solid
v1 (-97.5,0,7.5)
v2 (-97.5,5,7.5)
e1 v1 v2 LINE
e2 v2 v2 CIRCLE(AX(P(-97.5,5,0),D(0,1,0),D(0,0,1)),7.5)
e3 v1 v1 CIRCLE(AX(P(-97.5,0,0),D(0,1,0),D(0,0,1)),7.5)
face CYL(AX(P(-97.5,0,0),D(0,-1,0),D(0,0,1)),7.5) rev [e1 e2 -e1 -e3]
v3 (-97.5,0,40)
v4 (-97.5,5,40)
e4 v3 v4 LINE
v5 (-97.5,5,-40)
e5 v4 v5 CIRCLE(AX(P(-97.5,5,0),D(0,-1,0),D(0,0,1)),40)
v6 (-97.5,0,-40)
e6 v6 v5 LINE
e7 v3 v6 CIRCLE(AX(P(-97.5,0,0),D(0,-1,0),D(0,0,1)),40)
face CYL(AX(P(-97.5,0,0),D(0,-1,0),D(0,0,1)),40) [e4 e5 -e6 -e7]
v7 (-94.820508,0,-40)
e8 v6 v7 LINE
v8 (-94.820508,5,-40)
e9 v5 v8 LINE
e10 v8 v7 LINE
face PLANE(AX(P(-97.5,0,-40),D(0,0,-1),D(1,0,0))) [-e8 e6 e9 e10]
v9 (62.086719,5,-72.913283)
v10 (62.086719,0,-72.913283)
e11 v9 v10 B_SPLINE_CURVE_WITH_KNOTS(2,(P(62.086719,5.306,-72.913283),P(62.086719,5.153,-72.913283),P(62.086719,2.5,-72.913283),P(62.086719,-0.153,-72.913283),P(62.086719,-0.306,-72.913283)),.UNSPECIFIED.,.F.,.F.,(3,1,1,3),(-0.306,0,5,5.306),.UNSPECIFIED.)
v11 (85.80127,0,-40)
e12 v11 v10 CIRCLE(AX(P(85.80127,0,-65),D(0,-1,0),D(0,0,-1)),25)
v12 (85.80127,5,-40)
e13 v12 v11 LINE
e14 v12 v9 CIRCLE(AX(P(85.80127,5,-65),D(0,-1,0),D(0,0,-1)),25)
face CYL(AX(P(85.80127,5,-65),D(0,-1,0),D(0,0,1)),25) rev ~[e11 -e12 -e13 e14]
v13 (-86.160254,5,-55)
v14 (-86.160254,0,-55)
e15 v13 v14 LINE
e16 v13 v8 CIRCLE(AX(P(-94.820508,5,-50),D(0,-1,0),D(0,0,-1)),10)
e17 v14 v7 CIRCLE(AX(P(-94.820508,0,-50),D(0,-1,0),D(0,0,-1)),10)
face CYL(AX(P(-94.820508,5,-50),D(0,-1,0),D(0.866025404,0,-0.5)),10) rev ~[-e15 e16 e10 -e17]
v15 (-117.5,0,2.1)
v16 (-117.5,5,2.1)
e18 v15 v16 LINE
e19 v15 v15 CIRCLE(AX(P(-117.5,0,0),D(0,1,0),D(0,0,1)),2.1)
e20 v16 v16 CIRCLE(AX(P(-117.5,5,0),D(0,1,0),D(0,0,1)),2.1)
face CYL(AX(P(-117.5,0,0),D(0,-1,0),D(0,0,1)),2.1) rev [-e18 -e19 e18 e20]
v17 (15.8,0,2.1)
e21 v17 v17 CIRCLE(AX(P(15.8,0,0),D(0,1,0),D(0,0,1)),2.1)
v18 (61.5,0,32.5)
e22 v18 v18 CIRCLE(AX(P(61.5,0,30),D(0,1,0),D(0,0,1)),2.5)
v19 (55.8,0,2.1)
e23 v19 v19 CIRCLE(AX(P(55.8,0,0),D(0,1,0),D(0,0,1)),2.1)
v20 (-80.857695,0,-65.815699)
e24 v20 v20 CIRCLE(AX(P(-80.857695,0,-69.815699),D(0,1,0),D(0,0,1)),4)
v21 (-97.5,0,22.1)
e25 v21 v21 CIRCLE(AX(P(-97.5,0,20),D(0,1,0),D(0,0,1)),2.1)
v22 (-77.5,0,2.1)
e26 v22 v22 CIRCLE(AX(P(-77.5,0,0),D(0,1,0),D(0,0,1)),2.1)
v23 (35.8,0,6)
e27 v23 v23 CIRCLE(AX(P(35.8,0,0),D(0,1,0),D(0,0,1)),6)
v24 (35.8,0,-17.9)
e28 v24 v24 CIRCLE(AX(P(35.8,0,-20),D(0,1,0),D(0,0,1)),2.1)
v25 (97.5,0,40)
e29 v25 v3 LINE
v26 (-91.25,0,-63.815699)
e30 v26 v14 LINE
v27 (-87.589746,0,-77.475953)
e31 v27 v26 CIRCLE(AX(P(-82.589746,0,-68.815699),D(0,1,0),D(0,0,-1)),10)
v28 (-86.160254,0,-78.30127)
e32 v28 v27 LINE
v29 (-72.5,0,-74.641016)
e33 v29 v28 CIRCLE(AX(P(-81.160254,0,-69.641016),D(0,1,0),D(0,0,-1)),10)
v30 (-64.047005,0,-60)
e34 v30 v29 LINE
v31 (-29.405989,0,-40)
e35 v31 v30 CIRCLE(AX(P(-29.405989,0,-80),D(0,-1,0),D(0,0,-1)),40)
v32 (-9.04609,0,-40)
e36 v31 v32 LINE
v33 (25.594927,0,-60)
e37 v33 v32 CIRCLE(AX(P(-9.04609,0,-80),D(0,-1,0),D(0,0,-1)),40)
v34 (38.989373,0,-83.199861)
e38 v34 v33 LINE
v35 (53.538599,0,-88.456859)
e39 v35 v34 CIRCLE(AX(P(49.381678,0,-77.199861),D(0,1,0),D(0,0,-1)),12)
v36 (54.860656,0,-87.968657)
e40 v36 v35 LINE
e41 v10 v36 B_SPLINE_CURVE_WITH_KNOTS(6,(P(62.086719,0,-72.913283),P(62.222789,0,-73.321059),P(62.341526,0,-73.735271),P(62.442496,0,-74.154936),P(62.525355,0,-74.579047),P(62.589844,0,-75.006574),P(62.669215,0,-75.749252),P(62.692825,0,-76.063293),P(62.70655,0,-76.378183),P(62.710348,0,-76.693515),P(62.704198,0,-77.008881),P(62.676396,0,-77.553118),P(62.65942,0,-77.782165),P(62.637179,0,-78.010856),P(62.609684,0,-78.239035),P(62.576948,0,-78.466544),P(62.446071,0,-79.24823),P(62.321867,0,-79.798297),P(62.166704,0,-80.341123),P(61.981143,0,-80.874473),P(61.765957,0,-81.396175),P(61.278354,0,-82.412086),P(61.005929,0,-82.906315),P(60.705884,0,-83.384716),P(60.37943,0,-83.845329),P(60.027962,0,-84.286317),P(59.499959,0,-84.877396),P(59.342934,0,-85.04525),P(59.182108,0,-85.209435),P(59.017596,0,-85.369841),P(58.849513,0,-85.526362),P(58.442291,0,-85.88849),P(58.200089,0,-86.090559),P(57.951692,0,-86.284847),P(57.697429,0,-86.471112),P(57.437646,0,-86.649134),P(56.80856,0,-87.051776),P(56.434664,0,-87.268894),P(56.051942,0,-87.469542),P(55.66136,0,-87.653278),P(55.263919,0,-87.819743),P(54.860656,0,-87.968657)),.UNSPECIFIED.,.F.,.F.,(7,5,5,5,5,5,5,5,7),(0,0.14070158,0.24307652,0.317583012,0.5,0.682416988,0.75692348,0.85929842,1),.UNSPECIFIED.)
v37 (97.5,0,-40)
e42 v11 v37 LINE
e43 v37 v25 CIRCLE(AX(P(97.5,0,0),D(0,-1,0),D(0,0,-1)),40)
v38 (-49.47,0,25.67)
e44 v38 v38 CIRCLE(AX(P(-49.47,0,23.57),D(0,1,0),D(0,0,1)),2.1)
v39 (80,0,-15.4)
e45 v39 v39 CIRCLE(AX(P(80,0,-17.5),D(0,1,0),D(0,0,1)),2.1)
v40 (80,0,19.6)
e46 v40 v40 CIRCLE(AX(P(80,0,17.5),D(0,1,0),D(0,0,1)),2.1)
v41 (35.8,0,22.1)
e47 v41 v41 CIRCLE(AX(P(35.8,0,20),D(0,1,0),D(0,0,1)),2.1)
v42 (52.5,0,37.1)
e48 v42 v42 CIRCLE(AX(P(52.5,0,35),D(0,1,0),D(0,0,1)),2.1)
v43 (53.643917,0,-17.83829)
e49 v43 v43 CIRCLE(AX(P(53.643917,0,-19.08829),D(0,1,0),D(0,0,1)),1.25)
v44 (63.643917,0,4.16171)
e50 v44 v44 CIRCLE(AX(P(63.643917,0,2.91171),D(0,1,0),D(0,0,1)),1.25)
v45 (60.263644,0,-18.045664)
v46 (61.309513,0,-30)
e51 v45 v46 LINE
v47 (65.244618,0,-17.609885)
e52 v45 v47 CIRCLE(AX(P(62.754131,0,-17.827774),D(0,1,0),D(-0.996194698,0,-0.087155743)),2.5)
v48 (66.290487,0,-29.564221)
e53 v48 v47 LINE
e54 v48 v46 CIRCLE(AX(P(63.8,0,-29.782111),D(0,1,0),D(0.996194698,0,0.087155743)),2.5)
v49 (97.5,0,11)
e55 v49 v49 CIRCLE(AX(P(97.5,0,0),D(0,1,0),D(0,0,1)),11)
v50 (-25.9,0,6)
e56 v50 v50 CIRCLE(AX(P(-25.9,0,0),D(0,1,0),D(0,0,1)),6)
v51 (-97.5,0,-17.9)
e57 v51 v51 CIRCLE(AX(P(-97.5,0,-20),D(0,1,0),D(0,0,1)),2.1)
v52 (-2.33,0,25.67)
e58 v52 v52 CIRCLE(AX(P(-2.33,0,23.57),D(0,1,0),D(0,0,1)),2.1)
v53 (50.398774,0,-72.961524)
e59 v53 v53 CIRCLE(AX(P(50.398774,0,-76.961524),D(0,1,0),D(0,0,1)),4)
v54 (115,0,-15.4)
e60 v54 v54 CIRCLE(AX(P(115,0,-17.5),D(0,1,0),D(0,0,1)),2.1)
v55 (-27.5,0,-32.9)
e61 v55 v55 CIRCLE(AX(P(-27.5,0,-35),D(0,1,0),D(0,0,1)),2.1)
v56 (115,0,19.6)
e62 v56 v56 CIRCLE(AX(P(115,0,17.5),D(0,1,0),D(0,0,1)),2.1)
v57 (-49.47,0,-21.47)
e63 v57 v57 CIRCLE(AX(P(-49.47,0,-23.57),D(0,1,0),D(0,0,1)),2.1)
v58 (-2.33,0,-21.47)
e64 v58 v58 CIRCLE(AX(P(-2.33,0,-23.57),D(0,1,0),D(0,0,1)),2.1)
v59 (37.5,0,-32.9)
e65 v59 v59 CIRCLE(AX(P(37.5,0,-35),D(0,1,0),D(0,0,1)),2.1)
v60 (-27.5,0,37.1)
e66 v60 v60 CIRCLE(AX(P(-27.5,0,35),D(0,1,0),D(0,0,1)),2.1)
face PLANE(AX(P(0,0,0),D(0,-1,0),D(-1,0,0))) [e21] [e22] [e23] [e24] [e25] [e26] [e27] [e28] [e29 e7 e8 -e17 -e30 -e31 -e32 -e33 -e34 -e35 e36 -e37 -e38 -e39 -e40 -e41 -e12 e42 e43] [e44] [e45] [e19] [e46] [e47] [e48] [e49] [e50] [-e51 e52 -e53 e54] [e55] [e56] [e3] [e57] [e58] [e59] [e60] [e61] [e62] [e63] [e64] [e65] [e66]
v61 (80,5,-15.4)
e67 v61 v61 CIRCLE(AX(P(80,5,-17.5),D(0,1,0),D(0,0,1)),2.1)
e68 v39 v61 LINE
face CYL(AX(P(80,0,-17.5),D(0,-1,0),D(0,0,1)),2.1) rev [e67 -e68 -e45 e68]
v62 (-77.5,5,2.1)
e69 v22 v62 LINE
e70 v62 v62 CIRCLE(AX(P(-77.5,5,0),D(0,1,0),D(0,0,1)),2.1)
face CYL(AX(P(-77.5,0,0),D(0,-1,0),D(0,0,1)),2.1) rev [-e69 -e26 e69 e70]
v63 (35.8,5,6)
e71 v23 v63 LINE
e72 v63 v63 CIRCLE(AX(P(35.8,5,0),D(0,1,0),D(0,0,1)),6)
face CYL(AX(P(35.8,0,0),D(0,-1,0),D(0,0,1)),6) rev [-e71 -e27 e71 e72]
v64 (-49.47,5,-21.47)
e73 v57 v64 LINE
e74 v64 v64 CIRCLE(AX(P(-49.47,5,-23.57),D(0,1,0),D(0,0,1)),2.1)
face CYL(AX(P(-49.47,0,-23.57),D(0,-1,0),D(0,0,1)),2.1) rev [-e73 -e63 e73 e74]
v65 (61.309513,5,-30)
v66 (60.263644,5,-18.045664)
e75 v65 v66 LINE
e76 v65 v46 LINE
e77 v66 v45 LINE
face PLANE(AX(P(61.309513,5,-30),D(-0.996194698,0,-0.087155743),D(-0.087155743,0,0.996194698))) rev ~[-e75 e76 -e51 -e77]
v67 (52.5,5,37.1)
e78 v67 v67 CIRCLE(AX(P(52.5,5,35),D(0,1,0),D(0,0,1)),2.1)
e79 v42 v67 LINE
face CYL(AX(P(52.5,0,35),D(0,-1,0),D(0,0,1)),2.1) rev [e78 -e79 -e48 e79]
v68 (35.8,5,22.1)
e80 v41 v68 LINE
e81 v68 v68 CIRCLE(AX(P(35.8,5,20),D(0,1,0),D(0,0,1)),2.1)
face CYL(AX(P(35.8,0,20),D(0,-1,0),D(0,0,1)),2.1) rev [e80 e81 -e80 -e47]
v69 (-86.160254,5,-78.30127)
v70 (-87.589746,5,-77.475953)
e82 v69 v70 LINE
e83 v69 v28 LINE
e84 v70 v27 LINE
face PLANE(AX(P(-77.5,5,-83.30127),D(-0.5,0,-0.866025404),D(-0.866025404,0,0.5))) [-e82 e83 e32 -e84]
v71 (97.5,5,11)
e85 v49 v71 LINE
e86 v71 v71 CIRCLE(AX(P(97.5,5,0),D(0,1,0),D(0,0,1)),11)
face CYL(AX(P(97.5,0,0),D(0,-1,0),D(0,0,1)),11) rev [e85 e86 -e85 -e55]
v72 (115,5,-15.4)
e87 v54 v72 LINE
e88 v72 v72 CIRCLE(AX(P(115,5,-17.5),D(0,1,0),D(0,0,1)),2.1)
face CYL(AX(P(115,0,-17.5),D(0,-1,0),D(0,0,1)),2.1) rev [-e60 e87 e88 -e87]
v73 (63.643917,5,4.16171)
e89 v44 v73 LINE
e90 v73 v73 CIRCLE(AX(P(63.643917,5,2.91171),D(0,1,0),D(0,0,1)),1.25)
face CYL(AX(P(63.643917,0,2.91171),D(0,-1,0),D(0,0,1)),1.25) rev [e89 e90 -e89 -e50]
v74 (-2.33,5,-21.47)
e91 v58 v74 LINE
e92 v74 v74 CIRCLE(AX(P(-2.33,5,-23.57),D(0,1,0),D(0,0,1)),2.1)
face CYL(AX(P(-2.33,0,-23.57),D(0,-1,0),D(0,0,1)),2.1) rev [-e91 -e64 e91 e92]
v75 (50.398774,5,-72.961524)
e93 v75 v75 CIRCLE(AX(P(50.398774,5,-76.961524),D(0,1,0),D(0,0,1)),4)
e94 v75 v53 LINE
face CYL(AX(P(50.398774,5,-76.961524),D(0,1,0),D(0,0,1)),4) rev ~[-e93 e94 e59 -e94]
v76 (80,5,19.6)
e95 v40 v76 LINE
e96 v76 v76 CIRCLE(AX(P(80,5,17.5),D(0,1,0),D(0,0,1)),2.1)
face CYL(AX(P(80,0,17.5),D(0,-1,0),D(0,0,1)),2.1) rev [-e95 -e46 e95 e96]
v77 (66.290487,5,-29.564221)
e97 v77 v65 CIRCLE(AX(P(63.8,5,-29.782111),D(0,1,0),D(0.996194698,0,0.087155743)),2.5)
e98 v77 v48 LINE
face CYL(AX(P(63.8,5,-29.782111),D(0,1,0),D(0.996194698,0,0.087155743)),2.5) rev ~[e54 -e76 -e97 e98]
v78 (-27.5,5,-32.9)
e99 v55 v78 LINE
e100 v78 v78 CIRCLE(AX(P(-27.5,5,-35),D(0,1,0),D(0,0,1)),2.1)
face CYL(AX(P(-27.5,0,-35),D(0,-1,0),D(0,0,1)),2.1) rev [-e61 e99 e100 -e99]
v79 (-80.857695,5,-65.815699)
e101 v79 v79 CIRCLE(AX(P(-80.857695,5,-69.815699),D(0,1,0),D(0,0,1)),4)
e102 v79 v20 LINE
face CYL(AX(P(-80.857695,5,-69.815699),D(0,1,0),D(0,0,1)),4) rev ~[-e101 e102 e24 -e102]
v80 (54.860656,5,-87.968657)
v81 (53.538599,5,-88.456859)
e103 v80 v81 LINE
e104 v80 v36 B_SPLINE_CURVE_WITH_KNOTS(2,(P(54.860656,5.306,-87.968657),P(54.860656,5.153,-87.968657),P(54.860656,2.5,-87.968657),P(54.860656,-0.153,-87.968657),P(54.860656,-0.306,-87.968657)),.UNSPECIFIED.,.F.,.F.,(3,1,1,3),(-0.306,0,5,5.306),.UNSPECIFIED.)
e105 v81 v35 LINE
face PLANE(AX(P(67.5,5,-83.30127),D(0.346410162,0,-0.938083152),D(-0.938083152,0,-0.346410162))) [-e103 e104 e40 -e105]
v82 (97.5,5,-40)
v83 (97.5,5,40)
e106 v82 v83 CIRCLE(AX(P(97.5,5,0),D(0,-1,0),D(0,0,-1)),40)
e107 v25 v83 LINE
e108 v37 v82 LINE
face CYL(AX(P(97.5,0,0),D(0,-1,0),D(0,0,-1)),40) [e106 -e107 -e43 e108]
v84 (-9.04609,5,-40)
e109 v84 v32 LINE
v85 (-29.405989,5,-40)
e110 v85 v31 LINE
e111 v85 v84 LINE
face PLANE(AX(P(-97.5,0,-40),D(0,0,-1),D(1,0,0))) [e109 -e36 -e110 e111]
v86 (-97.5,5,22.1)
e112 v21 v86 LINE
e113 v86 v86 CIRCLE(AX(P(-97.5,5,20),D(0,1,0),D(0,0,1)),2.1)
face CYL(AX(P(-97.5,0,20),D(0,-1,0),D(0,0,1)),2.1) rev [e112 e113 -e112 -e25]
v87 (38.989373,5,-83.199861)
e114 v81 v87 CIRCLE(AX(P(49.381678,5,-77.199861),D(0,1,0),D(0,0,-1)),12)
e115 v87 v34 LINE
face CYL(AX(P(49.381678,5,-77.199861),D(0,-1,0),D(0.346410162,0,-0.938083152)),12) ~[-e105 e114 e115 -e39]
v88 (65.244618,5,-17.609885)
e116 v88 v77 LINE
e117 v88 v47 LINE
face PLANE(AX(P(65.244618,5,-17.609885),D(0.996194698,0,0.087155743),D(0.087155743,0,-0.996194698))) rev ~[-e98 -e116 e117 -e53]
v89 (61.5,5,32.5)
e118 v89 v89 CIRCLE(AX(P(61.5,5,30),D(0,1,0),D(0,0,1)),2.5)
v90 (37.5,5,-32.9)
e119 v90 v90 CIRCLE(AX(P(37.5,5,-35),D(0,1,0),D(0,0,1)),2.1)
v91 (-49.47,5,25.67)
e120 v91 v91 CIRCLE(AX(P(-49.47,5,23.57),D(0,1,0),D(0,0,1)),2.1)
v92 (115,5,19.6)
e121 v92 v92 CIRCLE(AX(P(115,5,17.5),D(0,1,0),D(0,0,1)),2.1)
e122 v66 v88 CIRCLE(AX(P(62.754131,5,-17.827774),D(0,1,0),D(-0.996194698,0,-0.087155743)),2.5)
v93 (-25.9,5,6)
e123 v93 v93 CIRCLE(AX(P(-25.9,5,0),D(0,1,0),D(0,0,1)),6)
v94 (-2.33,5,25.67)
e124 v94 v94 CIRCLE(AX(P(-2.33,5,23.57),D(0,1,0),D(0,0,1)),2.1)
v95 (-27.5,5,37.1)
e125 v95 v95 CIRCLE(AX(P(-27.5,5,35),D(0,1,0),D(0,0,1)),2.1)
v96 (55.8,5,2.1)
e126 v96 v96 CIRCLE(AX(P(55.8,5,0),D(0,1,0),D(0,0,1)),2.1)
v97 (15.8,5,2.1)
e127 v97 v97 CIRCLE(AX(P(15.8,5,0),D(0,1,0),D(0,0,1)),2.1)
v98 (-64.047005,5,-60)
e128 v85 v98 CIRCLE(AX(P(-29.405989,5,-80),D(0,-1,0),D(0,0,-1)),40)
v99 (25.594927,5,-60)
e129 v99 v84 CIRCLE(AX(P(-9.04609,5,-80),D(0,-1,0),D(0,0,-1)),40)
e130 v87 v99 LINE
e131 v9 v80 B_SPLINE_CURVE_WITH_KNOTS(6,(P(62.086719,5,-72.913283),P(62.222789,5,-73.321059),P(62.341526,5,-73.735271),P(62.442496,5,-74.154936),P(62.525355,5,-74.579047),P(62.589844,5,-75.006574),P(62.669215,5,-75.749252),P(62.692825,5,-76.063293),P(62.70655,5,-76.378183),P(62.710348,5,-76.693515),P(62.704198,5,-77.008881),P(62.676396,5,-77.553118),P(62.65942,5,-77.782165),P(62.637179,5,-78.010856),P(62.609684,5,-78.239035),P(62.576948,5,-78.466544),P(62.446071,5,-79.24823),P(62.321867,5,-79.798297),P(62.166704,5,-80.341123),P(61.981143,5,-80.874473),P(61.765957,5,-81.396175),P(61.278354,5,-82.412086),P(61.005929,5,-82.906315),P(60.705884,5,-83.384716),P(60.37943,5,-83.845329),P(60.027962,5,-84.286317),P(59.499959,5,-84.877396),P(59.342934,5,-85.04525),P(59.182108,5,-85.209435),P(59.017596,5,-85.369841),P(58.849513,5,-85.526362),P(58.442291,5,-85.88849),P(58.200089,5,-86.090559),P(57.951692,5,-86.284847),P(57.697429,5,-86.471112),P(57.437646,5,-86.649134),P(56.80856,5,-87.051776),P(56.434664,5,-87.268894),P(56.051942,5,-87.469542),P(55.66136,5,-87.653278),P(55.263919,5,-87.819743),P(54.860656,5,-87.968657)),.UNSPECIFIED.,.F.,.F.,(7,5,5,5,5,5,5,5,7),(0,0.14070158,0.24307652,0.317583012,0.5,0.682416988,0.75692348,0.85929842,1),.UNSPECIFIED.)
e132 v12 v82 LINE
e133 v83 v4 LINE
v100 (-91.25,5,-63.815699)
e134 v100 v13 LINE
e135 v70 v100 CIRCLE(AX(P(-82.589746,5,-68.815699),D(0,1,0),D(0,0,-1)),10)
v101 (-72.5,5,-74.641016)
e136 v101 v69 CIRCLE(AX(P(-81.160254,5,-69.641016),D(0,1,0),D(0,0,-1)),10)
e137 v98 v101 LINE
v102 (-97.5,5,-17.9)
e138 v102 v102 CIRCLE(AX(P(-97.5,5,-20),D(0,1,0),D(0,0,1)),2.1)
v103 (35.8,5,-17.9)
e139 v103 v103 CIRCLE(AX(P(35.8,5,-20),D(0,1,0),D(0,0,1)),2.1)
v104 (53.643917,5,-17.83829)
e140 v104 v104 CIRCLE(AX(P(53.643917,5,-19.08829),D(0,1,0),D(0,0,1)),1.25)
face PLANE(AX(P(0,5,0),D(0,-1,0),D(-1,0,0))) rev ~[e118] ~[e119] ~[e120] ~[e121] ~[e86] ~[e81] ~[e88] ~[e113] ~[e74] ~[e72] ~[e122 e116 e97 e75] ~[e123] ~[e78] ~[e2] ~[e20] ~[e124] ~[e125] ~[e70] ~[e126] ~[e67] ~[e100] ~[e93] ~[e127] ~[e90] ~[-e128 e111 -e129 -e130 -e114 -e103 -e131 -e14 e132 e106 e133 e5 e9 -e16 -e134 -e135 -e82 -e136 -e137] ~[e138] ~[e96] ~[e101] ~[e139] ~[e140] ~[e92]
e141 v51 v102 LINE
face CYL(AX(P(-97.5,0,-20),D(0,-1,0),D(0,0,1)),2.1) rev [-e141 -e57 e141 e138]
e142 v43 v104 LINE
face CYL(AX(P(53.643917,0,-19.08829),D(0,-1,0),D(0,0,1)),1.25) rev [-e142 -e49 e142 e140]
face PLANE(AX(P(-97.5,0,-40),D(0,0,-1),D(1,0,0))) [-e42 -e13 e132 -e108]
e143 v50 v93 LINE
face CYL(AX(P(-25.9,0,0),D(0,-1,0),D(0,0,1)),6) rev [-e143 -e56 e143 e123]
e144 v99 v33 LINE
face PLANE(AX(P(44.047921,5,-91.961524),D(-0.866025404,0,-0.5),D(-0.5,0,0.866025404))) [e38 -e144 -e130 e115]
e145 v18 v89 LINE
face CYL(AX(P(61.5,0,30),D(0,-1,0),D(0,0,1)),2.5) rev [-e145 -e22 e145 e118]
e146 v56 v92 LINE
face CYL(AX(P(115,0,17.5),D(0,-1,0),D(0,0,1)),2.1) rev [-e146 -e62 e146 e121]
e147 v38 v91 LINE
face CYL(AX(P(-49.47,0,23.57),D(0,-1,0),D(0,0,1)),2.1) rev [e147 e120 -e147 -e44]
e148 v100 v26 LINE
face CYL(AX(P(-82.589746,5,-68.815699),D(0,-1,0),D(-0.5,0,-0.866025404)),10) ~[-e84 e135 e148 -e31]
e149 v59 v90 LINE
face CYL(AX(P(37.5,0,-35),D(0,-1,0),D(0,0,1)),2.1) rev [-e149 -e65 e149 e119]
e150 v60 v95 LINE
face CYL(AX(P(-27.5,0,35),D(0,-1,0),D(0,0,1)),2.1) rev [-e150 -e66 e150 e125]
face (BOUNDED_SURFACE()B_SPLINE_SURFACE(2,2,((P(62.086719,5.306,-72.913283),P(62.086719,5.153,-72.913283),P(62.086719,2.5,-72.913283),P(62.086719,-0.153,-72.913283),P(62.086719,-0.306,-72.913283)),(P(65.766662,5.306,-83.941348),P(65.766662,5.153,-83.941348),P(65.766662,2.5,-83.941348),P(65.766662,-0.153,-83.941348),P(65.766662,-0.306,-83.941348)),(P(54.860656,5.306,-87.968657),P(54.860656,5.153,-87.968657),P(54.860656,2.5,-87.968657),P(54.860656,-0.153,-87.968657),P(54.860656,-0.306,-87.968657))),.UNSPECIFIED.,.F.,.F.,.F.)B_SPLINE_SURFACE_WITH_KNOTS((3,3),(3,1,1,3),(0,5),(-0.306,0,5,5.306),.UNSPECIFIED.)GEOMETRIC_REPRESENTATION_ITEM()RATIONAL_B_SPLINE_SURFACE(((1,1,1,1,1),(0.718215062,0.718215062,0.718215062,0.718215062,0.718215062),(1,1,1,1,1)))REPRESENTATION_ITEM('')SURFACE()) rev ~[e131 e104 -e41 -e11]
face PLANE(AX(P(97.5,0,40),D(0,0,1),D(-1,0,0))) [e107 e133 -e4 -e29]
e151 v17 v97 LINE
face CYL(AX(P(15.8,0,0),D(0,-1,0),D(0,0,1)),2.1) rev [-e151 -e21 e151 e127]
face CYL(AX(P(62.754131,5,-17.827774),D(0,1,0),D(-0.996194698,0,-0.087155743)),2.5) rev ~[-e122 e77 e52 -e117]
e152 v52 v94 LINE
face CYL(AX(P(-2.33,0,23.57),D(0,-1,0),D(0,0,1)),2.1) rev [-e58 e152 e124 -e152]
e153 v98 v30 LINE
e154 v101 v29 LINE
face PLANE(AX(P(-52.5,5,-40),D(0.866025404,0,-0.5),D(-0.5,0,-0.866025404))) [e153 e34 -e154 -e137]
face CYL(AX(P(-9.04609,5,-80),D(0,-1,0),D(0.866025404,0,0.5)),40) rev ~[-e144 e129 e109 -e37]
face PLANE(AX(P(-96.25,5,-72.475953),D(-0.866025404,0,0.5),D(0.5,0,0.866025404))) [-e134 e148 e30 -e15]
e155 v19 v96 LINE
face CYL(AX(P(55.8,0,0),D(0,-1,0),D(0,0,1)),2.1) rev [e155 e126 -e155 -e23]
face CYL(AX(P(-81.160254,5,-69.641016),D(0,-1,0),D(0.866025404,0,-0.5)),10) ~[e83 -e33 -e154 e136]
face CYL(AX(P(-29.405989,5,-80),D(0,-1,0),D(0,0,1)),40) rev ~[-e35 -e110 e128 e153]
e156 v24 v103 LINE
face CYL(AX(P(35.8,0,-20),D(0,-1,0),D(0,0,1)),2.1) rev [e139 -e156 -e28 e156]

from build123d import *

# Parameters (mm, degrees)
SKETCH1_R           = 11
SKETCH1_R_2         = 6
SKETCH1_R_3         = 7.5
SKETCH1_R_4         = 2.1
SKETCH1_R_5         = 2.5
SKETCH1_R_6         = 1.25
BOSS_EXTRUDE1_DEPTH = 5
SKETCH4_R           = 4
BOSS_EXTRUDE2_DEPTH = 5
FILLET1_R           = 40
FILLET2_R           = 10
CUT_EXTRUDE2_DEPTH  = 159.977801764
SKETCH7_R           = 4
BOSS_EXTRUDE3_DEPTH = 5
FILLET3_R           = 25
FILLET4_R           = 12
FILLET5_R           = 40


with BuildPart() as part:
    # Sketch1 → Boss-Extrude1 (new body)
    with BuildSketch(Plane(origin=(0, 0, 0), x_dir=(1, 0, 0), z_dir=(0, 1, 0))):
        with BuildLine():
            Line((-97.5, 40), (97.5, 40))
            ThreePointArc((97.5, 40), (137.5, 0), (97.5, -40))
            Line((97.5, -40), (-97.5, -40))
            ThreePointArc((-97.5, -40), (-137.5, 0), (-97.5, 40))
        make_face()
        with Locations(Location((97.5, 0, 0), (0, 0, 270))):
            Circle(SKETCH1_R, mode=Mode.SUBTRACT)
        with Locations(Location((35.8, 0, 0), (0, 0, 270))):
            Circle(SKETCH1_R_2, mode=Mode.SUBTRACT)
        with Locations(Location((-97.5, 0, 0), (0, 0, 270))):
            Circle(SKETCH1_R_3, mode=Mode.SUBTRACT)
        with Locations(Location((-97.5, -20, 0), (0, 0, 270))):
            Circle(SKETCH1_R_4, mode=Mode.SUBTRACT)
        with Locations(Location((-117.5, 0, 0), (0, 0, 270))):
            Circle(SKETCH1_R_4, mode=Mode.SUBTRACT)
        with Locations(Location((-97.5, 20, 0), (0, 0, 270))):
            Circle(SKETCH1_R_4, mode=Mode.SUBTRACT)
        with Locations(Location((-77.5, 0, 0), (0, 0, 270))):
            Circle(SKETCH1_R_4, mode=Mode.SUBTRACT)
        with Locations(Location((-25.9, 0, 0), (0, 0, 270))):
            Circle(SKETCH1_R_2, mode=Mode.SUBTRACT)
        with Locations(Location((-27.5, 35, 0), (0, 0, 270))):
            Circle(SKETCH1_R_4, mode=Mode.SUBTRACT)
        with Locations(Location((37.5, 35, 0), (0, 0, 270))):
            Circle(SKETCH1_R_4, mode=Mode.SUBTRACT)
        with Locations(Location((52.5, -35, 0), (0, 0, 270))):
            Circle(SKETCH1_R_4, mode=Mode.SUBTRACT)
        with Locations(Location((-27.5, -35, 0), (0, 0, 270))):
            Circle(SKETCH1_R_4, mode=Mode.SUBTRACT)
        with Locations(Location((115, 17.5, 0), (0, 0, 270))):
            Circle(SKETCH1_R_4, mode=Mode.SUBTRACT)
        with Locations(Location((115, -17.5, 0), (0, 0, 270))):
            Circle(SKETCH1_R_4, mode=Mode.SUBTRACT)
        with Locations(Location((80, -17.5, 0), (0, 0, 270))):
            Circle(SKETCH1_R_4, mode=Mode.SUBTRACT)
        with Locations(Location((80, 17.5, 0), (0, 0, 270))):
            Circle(SKETCH1_R_4, mode=Mode.SUBTRACT)
        with Locations(Location((55.8, 0, 0), (0, 0, 270))):
            Circle(SKETCH1_R_4, mode=Mode.SUBTRACT)
        with Locations(Location((35.8, -20, 0), (0, 0, 270))):
            Circle(SKETCH1_R_4, mode=Mode.SUBTRACT)
        with Locations(Location((15.8, 0, 0), (0, 0, 270))):
            Circle(SKETCH1_R_4, mode=Mode.SUBTRACT)
        with Locations(Location((35.8, 20, 0), (0, 0, 270))):
            Circle(SKETCH1_R_4, mode=Mode.SUBTRACT)
        with Locations(Location((-2.33, -23.57, 0), (0, 0, 270))):
            Circle(SKETCH1_R_4, mode=Mode.SUBTRACT)
        with Locations(Location((-49.47, -23.57, 0), (0, 0, 270))):
            Circle(SKETCH1_R_4, mode=Mode.SUBTRACT)
        with Locations(Location((-49.47, 23.57, 0), (0, 0, 270))):
            Circle(SKETCH1_R_4, mode=Mode.SUBTRACT)
        with Locations(Location((-2.33, 23.57, 0), (0, 0, 270))):
            Circle(SKETCH1_R_4, mode=Mode.SUBTRACT)
        with Locations(Location((61.5, -30, 0), (0, 0, 270))):
            Circle(SKETCH1_R_5, mode=Mode.SUBTRACT)
        with Locations(Location((53.643916542, 19.088290496, 0), (0, 0, 270))):
            Circle(SKETCH1_R_6, mode=Mode.SUBTRACT)
        with Locations(Location((63.643916542, -2.911709504, 0), (0, 0, 270))):
            Circle(SKETCH1_R_6, mode=Mode.SUBTRACT)
    extrude(amount=BOSS_EXTRUDE1_DEPTH)

    # Sketch4 → Boss-Extrude2 (add)
    with BuildSketch(Plane(origin=(0, 5, 0), x_dir=(1, 0, 0), z_dir=(0, 1, 0))):
        Polygon((-52.5, 40), (-77.5, 83.301270189), (-96.25, 72.475952642), (-77.5, 40), align=None)
        with Locations(Location((-80.857695155, 69.815698604, 0), (0, 0, 270))):
            Circle(SKETCH4_R, mode=Mode.SUBTRACT)
    extrude(amount=-BOSS_EXTRUDE2_DEPTH)

    # Fillet1
    fillet1_edges = [part.edges().sort_by_distance(p)[0] for p in [
        (-52.5, 2.5, -40),
    ]]
    fillet(fillet1_edges, radius=FILLET1_R)

    # Fillet2
    fillet2_edges = [part.edges().sort_by_distance(p)[0] for p in [
        (-77.5, 2.5, -40),
        (-96.25, 2.5, -72.475952642),
        (-77.5, 2.5, -83.301270189),
    ]]
    fillet(fillet2_edges, radius=FILLET2_R)

    # Sketch6 → Cut-Extrude2 (cut, through all)
    with BuildSketch(Plane(origin=(0, 5, 0), x_dir=(1, 0, 0), z_dir=(0, 1, 0))):
        with BuildLine():
            Line((65.244617832, 17.609884909), (66.290486745, 29.564221286))
            ThreePointArc((66.290486745, 29.564221286), (64.017889357, 32.272597388), (61.309513255, 30))
            Line((61.309513255, 30), (60.263644342, 18.045663623))
            ThreePointArc((60.263644342, 18.045663623), (62.53624173, 15.337287521), (65.244617832, 17.609884909))
        make_face()
    extrude(amount=-CUT_EXTRUDE2_DEPTH, mode=Mode.SUBTRACT)

    # Sketch7 → Boss-Extrude3 (add)
    with BuildSketch(Plane(origin=(0, 5, 0), x_dir=(1, 0, 0), z_dir=(0, 1, 0))):
        Polygon((14.047921201, 40), (42.5, 40), (67.5, 83.301270189), (44.047921201, 91.961524227), align=None)
        with Locations(Location((50.398774162, 76.961524227, 0), (0, 0, 270))):
            Circle(SKETCH7_R, mode=Mode.SUBTRACT)
    extrude(amount=-BOSS_EXTRUDE3_DEPTH)

    # Fillet3
    fillet3_edges = [part.edges().sort_by_distance(p)[0] for p in [
        (42.5, 2.5, -40),
    ]]
    fillet(fillet3_edges, radius=FILLET3_R)

    # Fillet4
    fillet4_edges = [part.edges().sort_by_distance(p)[0] for p in [
        (44.047921201, 2.5, -91.961524227),
        (67.5, 2.5, -83.301270189),
    ]]
    fillet(fillet4_edges, radius=FILLET4_R)

    # Fillet5
    fillet5_edges = [part.edges().sort_by_distance(p)[0] for p in [
        (14.047921201, 2.5, -40),
    ]]
    fillet(fillet5_edges, radius=FILLET5_R)


solid = part.part
